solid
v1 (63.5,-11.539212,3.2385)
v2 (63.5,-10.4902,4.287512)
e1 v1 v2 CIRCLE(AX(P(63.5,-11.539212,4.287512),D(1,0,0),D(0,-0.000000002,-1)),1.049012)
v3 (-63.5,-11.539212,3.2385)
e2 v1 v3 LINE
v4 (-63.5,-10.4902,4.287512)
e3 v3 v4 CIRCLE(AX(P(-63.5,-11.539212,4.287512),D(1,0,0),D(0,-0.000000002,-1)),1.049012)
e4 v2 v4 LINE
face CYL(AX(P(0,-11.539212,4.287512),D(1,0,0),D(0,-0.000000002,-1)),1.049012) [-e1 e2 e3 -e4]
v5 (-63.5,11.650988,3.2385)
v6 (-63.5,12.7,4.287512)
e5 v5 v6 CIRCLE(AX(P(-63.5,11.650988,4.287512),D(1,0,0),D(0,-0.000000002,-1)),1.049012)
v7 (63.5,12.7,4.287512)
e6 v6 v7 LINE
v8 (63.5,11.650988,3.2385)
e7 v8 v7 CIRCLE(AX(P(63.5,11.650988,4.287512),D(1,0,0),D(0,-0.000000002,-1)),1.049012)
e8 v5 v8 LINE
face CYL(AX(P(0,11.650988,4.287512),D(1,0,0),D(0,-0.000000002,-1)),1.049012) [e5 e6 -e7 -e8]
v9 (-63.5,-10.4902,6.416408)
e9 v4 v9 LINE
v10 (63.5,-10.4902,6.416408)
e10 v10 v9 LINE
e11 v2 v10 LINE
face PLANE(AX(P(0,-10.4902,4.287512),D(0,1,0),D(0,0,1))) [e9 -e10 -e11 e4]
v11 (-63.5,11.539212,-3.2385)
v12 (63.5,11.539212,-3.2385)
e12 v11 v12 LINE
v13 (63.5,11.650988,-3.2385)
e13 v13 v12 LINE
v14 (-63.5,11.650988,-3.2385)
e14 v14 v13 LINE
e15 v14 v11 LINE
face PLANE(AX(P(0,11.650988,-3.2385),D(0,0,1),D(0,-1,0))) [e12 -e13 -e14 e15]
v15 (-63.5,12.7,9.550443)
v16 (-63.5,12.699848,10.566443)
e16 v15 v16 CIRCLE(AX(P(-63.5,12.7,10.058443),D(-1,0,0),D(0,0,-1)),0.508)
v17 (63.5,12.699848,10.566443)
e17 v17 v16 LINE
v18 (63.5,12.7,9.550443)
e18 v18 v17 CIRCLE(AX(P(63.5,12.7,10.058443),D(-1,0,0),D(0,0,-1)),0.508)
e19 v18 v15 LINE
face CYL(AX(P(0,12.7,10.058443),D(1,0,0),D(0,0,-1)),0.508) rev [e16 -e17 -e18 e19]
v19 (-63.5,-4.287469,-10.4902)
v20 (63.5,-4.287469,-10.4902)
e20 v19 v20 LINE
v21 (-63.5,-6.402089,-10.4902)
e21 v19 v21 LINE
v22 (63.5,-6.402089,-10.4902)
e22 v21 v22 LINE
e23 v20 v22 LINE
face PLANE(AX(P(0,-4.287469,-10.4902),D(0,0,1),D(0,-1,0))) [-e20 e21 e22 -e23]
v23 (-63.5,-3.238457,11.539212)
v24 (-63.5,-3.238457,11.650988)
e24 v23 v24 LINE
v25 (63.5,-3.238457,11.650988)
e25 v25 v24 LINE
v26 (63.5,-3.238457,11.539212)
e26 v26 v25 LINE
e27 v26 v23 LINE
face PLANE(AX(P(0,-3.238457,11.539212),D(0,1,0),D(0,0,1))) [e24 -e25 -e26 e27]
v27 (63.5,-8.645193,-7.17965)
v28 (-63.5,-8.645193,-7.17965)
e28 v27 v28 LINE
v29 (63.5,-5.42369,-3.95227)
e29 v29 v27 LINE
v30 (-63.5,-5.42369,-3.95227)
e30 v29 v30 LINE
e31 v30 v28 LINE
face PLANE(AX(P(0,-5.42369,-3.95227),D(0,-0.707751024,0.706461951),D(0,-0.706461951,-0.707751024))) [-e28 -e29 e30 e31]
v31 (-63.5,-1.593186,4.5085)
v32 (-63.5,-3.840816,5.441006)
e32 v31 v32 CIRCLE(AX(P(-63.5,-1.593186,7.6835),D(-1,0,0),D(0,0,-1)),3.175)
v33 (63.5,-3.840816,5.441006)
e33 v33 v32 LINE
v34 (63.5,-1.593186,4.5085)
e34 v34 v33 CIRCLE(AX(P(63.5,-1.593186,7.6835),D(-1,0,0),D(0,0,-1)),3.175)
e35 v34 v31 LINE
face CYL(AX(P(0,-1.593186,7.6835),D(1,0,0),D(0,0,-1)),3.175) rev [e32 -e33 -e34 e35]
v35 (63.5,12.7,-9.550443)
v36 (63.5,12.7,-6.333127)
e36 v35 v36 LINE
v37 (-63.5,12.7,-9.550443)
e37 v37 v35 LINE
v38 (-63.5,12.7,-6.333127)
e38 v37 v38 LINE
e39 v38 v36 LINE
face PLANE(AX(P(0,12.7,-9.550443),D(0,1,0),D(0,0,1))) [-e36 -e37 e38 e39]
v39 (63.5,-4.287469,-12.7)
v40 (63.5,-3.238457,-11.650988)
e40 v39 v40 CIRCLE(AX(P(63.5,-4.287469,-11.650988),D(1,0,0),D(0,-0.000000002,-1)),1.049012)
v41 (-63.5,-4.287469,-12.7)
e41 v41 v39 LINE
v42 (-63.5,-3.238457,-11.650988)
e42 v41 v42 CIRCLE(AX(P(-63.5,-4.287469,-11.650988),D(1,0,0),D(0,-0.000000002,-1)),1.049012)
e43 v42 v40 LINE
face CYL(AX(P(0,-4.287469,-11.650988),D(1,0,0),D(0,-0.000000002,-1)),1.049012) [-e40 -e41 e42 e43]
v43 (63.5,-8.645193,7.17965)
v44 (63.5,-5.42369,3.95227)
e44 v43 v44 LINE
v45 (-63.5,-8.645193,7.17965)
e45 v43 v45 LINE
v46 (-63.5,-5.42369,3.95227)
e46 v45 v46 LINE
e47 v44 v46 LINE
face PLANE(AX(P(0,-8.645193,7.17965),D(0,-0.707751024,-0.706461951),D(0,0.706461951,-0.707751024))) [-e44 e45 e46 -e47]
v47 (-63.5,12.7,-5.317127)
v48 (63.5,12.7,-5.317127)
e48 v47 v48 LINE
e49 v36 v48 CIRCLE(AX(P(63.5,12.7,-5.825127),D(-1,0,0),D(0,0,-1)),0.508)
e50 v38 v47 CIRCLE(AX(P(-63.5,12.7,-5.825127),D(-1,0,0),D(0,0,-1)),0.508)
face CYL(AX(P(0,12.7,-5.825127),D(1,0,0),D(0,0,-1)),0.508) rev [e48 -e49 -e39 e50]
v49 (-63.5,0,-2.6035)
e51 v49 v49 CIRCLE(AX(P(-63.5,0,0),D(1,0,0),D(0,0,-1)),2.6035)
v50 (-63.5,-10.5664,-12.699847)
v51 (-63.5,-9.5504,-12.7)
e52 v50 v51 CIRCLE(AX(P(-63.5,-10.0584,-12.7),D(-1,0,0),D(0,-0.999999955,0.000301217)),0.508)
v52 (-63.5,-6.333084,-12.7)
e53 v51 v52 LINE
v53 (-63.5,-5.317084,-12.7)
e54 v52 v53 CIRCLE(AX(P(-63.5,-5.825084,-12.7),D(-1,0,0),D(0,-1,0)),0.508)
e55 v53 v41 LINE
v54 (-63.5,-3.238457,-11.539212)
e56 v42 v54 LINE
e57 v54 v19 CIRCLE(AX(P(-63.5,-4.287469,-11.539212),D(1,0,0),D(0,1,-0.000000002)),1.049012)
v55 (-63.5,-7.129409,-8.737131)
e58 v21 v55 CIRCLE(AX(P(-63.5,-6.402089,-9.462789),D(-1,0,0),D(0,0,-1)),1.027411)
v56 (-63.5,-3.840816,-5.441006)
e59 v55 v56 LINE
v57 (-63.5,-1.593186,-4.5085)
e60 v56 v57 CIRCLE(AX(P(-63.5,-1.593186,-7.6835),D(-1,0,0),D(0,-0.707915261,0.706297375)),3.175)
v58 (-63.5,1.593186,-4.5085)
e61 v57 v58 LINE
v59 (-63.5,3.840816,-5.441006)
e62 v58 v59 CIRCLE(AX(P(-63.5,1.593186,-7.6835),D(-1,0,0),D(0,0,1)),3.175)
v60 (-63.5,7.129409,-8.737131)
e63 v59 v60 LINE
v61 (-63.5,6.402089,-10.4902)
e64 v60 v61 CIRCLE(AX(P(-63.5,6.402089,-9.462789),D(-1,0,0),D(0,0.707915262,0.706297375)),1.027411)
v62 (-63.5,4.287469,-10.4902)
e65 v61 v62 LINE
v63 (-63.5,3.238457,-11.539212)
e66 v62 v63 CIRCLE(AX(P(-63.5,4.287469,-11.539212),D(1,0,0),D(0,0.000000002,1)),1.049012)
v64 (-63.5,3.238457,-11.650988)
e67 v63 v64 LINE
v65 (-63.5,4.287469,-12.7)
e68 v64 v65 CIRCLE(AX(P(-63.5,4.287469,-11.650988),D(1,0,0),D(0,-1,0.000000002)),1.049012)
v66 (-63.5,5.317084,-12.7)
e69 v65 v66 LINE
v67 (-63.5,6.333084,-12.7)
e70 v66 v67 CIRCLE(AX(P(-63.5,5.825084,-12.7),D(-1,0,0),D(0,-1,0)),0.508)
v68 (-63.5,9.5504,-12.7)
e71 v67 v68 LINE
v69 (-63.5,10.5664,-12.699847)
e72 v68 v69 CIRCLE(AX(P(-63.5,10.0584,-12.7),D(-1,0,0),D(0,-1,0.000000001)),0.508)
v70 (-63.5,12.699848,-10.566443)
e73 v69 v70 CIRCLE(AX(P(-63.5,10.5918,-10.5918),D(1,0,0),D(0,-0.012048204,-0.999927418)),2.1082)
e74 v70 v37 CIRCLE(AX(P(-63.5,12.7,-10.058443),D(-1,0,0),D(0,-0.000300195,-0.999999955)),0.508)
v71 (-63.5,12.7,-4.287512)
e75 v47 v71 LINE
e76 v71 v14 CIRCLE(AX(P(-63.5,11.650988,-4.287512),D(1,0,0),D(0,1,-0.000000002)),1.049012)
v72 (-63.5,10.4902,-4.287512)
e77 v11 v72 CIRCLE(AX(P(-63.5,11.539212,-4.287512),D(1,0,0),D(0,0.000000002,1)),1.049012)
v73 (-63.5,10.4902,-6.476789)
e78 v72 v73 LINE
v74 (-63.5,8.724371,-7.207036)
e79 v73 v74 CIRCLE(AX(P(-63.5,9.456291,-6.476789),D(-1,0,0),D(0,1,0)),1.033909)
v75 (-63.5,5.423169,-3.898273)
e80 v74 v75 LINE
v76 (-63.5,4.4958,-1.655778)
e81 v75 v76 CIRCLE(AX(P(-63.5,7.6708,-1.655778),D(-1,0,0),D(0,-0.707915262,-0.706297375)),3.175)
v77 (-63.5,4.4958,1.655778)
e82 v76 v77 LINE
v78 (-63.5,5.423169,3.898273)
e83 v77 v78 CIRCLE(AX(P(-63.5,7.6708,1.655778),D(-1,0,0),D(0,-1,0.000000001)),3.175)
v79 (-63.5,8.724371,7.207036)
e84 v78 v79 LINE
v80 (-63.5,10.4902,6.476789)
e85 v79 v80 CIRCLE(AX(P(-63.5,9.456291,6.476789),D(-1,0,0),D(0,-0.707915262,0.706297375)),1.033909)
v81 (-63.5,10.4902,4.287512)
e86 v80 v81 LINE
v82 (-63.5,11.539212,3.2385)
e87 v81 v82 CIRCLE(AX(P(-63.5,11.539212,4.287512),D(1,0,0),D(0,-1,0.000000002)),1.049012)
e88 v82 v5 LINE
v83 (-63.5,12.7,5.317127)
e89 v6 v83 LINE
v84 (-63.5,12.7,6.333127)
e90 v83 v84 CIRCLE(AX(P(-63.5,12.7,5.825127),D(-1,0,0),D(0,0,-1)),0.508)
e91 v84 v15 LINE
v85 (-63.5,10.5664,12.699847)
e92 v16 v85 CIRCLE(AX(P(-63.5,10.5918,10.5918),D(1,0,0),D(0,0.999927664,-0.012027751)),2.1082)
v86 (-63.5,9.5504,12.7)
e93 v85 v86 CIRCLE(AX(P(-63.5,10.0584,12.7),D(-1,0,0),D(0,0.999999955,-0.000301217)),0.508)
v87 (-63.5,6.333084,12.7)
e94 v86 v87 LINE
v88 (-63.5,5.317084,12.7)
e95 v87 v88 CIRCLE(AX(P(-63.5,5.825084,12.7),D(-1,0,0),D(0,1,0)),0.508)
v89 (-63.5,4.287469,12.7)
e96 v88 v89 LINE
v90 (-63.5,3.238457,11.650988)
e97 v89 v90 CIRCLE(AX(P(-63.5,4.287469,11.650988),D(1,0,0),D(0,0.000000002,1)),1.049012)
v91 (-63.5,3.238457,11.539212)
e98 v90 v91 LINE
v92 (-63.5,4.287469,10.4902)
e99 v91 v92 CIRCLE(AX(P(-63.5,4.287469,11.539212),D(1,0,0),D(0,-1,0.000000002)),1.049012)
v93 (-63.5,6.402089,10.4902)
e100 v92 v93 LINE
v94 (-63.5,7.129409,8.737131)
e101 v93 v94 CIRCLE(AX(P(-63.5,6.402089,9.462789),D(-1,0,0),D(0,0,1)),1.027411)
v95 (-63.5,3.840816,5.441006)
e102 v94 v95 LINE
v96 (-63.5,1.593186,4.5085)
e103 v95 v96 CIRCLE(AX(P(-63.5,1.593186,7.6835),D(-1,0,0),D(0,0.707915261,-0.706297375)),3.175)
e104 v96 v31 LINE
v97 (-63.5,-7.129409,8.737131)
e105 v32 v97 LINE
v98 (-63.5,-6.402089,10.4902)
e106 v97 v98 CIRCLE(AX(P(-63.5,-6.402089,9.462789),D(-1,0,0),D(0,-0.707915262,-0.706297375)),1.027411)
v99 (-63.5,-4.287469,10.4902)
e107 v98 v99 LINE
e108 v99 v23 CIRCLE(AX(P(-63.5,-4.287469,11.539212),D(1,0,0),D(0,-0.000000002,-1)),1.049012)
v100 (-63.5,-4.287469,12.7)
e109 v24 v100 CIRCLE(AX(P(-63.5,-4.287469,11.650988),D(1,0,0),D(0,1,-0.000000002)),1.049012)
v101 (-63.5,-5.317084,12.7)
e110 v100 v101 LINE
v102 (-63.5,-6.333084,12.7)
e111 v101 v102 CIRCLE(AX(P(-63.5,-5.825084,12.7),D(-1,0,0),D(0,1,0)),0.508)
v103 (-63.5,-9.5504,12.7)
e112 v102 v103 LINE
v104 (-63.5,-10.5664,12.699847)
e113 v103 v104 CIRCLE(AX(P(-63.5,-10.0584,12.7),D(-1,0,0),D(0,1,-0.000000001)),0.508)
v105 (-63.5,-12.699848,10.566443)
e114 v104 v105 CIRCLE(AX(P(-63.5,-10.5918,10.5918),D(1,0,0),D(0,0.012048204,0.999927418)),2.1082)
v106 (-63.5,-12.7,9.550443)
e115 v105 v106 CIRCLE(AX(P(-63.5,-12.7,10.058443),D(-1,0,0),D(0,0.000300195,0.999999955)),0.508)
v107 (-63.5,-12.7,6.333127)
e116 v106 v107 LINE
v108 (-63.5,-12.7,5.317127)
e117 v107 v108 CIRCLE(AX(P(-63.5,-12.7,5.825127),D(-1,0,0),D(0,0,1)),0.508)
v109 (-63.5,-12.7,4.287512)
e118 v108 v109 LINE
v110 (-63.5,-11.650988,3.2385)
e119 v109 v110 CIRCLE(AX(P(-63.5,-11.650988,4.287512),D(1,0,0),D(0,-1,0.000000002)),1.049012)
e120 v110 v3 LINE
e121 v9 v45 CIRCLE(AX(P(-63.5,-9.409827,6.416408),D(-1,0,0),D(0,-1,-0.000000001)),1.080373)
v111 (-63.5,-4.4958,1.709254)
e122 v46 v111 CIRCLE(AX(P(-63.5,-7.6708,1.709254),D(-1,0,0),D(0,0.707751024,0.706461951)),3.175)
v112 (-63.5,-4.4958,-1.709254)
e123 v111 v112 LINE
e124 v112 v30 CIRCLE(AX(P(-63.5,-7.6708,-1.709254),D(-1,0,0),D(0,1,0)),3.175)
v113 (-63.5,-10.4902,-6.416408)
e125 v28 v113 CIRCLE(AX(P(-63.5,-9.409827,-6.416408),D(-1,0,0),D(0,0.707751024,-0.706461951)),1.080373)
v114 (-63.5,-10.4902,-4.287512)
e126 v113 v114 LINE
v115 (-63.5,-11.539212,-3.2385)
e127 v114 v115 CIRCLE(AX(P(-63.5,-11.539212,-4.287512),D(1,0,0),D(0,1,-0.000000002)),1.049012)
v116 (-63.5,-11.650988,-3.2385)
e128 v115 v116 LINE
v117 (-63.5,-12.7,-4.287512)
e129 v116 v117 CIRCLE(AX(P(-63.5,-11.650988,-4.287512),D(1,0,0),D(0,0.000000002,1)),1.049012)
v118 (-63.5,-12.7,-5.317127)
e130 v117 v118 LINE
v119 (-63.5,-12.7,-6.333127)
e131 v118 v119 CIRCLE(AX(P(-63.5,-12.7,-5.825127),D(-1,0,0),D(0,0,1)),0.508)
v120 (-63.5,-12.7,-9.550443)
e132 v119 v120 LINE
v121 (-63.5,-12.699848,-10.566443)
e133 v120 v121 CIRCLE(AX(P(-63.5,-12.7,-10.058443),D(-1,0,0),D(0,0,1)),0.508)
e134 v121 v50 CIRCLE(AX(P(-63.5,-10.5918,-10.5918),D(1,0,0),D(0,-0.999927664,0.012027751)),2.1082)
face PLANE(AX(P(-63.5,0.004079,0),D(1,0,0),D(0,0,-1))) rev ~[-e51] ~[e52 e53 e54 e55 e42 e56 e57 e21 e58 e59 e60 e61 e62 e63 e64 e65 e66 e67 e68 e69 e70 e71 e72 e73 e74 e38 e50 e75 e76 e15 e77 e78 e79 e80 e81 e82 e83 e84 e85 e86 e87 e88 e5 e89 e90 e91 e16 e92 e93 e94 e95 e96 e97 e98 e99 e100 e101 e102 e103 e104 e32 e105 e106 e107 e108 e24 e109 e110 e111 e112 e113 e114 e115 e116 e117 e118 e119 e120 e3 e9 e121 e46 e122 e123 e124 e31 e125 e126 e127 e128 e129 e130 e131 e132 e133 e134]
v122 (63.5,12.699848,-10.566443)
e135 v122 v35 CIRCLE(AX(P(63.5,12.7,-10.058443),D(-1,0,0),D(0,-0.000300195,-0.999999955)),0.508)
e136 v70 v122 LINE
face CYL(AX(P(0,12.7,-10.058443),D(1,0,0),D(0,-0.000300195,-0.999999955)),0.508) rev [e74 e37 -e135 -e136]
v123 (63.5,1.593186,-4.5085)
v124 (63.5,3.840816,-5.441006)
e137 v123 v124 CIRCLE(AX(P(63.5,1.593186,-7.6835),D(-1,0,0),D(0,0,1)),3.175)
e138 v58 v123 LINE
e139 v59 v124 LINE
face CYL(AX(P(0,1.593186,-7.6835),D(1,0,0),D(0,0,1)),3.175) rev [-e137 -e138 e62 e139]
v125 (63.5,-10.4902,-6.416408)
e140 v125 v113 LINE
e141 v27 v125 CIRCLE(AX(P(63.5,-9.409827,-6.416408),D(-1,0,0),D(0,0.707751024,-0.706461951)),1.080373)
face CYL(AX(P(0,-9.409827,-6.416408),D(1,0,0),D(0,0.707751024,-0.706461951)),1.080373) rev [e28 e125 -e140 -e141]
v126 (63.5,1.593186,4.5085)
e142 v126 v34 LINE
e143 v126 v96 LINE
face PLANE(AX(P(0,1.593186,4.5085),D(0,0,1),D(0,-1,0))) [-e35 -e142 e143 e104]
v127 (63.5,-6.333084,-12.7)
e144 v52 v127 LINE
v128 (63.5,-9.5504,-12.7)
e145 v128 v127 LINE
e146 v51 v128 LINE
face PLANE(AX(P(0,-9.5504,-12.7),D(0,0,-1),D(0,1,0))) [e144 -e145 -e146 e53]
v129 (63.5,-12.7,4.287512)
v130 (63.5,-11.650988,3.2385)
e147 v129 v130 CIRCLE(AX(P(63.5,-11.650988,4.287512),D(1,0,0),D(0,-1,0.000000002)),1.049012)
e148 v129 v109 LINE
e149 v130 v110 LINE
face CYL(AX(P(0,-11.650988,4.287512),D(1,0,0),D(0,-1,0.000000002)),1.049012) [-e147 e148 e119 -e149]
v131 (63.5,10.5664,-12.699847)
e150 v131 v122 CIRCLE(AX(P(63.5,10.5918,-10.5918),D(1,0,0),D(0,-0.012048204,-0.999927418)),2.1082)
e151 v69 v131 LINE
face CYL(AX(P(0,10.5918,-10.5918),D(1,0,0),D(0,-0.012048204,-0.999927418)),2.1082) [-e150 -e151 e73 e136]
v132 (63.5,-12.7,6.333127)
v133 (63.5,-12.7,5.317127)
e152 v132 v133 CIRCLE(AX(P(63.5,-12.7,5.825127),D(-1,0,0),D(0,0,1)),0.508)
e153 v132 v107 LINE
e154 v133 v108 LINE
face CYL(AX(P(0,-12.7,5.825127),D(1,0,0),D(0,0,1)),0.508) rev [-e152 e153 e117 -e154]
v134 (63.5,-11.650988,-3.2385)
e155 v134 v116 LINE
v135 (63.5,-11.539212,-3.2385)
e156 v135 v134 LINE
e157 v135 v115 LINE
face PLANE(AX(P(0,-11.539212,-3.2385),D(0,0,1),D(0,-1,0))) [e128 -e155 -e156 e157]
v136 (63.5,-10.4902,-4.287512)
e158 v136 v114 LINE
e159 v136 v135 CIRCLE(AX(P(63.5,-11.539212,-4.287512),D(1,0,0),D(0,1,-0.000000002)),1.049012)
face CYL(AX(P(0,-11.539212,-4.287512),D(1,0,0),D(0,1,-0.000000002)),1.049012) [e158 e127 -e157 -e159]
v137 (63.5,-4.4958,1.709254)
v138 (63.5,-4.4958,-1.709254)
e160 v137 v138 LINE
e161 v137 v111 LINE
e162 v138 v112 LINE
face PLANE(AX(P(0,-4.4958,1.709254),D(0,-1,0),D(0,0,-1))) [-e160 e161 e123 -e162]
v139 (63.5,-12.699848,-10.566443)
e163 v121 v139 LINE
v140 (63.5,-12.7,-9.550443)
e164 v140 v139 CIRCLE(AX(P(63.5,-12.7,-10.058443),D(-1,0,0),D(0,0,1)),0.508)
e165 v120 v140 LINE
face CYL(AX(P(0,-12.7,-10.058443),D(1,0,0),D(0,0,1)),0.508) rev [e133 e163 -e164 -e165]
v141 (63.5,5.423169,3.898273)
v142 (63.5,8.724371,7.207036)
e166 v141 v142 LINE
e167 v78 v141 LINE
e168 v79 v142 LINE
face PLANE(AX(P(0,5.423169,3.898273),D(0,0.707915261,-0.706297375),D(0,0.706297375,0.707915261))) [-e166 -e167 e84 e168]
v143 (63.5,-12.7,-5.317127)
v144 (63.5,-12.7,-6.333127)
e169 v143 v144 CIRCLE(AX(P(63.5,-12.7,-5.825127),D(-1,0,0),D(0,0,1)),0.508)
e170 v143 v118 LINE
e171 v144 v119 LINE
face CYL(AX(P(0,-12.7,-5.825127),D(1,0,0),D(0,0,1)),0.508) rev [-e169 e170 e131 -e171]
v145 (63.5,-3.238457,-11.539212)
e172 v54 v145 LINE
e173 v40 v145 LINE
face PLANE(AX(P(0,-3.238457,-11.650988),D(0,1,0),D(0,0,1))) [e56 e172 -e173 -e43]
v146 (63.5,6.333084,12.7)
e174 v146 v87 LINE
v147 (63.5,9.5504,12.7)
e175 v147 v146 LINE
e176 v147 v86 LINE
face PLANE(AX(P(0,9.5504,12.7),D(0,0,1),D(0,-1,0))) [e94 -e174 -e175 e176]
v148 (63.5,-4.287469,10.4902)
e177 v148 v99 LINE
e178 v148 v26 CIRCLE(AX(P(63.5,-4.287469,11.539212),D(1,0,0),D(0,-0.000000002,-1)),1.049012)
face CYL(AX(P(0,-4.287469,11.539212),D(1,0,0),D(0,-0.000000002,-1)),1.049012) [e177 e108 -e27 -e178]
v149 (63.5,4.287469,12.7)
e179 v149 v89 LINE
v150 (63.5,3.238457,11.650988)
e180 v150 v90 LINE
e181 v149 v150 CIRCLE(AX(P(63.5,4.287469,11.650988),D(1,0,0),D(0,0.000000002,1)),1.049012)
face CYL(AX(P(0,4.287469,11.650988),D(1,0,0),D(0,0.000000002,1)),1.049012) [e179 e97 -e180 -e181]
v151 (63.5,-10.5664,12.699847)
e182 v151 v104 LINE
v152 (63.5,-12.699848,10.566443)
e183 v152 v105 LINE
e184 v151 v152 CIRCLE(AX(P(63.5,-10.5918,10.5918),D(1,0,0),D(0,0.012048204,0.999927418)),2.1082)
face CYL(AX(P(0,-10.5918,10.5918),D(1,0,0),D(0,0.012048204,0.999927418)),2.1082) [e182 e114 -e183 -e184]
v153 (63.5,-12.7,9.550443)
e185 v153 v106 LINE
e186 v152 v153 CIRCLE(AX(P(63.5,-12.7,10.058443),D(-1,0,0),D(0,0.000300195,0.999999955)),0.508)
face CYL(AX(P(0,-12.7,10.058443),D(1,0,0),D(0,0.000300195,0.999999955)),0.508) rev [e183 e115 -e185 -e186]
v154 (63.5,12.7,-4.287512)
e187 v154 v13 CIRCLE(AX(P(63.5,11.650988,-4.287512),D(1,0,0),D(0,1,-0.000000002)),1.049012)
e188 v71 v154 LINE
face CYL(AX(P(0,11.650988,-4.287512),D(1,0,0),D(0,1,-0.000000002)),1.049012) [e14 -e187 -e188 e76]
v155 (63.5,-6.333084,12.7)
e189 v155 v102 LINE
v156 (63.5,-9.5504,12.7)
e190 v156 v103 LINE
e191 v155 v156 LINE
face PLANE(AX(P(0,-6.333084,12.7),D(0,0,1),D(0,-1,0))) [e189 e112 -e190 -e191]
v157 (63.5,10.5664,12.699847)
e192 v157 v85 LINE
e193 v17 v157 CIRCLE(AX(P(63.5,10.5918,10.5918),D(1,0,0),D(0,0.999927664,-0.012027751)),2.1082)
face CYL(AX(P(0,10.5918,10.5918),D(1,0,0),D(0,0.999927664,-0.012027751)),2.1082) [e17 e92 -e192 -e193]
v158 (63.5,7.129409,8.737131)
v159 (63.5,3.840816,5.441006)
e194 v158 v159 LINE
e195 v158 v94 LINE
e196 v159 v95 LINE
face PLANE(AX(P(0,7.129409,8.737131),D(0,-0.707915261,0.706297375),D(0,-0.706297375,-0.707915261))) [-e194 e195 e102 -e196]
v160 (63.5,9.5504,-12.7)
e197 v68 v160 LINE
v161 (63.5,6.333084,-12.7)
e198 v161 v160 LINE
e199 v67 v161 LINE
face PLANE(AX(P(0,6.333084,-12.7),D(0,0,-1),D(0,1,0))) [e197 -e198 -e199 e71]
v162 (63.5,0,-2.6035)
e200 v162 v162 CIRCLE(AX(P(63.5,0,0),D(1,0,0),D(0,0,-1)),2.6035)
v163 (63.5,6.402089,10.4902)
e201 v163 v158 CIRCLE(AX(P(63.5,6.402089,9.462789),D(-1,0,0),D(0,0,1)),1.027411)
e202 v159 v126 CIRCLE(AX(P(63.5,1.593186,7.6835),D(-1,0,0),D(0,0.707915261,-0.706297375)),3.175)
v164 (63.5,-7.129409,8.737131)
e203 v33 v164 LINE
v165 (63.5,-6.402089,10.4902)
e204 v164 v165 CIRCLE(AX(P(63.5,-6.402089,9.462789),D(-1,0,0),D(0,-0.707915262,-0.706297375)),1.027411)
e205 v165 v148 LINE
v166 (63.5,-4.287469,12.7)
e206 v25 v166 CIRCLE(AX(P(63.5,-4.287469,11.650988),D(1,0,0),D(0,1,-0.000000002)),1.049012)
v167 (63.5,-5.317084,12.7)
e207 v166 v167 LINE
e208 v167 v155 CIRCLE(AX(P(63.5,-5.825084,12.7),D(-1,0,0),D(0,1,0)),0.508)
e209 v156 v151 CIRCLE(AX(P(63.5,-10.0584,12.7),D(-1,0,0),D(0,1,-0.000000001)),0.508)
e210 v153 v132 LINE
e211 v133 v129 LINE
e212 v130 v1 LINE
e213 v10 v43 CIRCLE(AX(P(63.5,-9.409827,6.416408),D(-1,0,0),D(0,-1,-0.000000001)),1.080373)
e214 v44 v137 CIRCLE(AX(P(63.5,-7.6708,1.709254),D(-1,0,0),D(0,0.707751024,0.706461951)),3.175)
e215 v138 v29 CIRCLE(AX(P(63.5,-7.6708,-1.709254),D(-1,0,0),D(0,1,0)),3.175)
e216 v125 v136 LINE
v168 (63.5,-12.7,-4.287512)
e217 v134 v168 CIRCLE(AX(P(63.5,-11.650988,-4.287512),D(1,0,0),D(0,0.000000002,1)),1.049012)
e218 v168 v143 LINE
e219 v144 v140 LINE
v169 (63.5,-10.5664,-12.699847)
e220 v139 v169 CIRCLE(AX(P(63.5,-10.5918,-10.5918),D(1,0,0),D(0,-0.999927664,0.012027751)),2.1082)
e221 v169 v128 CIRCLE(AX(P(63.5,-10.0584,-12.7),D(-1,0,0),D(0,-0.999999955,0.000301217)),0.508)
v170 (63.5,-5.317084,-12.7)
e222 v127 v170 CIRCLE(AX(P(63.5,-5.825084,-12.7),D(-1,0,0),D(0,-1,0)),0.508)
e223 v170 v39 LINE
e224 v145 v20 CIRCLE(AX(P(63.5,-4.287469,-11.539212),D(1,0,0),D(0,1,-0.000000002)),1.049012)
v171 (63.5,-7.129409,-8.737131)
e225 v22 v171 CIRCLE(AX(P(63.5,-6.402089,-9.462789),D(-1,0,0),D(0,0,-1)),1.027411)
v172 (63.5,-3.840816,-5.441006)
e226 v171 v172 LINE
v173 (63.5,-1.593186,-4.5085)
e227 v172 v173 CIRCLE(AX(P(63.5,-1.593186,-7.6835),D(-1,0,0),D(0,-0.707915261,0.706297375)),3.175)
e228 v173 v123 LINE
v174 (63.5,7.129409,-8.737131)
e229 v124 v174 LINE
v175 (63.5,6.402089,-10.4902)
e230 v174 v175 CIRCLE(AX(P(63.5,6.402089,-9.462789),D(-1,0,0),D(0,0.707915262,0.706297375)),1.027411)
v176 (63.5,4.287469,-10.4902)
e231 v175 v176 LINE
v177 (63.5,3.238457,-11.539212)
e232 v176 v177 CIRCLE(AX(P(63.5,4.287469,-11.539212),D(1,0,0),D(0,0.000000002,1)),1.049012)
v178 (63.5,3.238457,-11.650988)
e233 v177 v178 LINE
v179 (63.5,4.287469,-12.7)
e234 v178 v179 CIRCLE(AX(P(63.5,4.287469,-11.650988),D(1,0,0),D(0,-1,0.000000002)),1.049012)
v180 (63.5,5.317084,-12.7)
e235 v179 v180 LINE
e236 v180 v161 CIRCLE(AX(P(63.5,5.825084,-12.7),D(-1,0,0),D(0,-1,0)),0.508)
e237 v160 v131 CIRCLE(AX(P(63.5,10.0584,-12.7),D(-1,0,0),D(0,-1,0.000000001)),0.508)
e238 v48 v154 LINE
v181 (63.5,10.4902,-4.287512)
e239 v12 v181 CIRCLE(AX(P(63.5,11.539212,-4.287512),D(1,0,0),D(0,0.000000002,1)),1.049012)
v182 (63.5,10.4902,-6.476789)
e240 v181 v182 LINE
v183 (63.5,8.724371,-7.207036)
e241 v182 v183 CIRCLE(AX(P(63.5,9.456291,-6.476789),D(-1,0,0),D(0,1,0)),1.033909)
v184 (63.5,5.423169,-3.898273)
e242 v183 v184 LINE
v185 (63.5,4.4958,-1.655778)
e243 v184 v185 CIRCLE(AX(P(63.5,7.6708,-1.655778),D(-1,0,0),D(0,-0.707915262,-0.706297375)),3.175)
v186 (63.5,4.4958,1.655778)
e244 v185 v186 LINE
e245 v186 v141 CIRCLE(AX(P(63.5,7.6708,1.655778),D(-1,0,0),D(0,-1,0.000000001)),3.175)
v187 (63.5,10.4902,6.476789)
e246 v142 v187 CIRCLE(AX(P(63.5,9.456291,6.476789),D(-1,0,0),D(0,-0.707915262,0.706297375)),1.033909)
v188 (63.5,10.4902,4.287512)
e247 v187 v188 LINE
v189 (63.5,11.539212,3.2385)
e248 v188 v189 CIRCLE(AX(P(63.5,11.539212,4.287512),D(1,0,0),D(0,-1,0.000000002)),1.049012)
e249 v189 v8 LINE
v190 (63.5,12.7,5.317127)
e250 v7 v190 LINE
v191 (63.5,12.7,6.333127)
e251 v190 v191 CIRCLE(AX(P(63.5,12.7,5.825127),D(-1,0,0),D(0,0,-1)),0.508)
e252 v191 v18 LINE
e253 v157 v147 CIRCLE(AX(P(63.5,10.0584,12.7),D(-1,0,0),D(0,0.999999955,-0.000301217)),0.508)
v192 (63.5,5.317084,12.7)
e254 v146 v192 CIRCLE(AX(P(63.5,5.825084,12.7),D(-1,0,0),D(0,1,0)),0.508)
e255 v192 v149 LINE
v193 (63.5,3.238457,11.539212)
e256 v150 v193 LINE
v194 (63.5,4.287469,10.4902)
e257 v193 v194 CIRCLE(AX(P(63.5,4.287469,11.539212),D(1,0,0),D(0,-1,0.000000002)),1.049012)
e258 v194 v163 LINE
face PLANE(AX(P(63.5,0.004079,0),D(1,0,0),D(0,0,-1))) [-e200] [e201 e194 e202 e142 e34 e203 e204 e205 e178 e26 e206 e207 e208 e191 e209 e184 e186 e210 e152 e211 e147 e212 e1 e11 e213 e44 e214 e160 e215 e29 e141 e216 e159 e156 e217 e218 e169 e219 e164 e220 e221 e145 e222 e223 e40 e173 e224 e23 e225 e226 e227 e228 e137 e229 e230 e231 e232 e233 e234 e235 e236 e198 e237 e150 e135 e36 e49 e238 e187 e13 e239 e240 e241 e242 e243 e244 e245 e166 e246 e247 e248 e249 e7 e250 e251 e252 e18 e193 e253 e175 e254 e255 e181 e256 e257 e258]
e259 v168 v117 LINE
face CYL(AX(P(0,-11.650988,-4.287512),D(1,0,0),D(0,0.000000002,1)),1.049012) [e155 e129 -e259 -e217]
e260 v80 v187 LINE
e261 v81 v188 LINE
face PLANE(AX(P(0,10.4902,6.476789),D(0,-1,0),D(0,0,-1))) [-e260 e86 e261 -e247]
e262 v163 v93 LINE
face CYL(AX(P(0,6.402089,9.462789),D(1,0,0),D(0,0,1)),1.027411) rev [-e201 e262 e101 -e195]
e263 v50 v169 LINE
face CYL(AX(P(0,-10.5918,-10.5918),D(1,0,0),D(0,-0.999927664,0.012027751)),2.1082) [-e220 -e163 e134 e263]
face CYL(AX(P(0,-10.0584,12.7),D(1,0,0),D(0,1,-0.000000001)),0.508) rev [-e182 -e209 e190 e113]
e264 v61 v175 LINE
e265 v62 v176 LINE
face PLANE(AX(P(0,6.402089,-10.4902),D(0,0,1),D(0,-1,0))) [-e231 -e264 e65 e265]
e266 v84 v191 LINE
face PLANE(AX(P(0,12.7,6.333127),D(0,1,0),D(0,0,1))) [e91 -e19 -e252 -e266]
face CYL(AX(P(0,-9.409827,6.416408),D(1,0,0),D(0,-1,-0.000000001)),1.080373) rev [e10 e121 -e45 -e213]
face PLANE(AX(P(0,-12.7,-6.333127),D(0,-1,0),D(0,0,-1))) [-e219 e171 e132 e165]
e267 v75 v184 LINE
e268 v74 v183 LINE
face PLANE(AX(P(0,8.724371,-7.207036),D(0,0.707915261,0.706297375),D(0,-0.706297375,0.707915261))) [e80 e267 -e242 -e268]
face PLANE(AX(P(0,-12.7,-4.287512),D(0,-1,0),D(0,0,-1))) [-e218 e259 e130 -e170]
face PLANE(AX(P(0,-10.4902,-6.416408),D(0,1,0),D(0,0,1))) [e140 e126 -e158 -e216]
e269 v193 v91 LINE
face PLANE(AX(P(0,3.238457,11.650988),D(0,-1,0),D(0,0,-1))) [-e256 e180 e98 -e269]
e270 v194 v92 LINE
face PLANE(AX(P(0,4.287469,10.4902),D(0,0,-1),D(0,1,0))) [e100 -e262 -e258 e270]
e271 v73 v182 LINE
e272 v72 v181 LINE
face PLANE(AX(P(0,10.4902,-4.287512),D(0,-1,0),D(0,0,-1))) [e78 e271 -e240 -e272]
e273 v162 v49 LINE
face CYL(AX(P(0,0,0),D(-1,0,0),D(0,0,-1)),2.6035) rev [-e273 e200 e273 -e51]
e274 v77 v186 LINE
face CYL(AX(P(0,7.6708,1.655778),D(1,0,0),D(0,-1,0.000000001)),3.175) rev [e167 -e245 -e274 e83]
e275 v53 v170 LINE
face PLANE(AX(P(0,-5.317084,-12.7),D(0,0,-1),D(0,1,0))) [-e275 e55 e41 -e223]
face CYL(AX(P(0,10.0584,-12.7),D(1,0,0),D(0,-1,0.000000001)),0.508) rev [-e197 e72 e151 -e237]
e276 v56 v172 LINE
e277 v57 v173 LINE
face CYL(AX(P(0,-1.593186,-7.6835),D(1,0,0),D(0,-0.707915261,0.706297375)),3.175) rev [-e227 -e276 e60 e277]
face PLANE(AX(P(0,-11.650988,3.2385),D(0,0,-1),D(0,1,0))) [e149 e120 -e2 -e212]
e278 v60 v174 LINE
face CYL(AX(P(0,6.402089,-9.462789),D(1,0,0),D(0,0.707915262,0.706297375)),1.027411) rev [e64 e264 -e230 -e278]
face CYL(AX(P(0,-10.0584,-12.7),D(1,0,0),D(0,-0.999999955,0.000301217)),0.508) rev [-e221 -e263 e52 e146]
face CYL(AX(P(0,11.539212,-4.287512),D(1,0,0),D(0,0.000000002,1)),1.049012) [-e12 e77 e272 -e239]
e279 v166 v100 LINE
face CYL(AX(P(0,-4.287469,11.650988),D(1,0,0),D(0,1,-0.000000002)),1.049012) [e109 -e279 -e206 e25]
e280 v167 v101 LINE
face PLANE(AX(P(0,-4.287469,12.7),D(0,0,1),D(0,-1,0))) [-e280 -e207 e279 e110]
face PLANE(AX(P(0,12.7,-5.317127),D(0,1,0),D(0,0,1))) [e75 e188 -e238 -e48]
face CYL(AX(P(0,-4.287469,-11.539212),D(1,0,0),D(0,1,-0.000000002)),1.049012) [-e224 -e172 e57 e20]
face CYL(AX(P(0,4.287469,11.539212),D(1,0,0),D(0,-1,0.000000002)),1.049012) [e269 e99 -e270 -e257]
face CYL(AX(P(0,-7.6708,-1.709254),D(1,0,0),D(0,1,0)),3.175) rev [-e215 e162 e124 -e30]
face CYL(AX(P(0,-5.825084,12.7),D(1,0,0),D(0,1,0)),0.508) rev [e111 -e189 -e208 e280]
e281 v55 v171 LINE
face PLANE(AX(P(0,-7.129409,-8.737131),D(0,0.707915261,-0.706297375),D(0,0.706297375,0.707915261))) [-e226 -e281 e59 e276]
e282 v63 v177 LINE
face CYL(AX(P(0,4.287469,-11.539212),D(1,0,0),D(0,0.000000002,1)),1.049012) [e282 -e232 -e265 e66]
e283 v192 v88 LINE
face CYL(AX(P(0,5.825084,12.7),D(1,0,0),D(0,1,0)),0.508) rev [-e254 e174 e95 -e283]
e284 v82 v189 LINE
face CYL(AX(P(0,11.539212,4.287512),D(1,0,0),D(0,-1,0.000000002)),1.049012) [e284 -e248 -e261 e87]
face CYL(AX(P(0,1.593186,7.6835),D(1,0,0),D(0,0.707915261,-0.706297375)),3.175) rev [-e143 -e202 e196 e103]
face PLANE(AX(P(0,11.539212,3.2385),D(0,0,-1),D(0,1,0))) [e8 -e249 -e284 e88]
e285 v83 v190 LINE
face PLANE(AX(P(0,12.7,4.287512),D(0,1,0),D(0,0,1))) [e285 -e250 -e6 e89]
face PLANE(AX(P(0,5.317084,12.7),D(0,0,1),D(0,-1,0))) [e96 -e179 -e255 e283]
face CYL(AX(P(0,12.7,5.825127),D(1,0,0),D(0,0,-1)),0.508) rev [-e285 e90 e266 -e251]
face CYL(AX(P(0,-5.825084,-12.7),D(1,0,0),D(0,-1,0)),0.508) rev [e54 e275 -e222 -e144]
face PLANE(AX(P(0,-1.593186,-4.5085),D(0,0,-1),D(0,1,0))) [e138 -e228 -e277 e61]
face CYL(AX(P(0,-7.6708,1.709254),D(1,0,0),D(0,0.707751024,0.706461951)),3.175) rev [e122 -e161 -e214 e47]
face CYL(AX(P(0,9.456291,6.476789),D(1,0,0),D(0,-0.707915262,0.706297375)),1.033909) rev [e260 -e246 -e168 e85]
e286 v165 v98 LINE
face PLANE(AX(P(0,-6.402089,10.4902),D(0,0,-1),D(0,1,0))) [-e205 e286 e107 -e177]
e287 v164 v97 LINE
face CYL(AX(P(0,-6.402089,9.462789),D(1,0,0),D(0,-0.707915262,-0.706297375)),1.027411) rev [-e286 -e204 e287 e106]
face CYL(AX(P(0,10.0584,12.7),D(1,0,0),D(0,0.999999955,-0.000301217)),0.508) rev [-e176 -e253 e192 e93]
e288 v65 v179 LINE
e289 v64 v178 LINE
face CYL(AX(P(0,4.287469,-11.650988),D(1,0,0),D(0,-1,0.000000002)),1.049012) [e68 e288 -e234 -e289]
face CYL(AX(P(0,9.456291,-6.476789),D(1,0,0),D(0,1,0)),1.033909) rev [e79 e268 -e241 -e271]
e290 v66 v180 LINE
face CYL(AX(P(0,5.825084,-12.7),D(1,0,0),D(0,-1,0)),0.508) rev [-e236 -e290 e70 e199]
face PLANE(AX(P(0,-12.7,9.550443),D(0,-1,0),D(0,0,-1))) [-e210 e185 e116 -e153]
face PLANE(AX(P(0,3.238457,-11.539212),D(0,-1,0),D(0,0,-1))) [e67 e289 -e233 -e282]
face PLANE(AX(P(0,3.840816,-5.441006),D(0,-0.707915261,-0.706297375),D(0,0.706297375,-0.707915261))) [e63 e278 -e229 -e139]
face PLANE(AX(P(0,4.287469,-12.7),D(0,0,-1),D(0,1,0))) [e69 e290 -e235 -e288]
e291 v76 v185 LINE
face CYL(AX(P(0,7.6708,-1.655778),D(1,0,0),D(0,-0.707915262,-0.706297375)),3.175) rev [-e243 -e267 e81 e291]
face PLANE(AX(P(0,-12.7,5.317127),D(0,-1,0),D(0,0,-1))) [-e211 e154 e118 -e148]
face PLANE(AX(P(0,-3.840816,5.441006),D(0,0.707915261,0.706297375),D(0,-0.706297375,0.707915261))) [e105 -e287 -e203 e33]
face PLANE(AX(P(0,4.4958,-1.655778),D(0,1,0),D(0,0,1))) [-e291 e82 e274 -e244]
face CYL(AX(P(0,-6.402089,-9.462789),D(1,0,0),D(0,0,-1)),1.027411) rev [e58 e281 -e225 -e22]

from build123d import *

# Parameters (mm, degrees)
SKETCH1_R           = 2.6035
BOSS_EXTRUDE1_DEPTH = 63.5


with BuildPart() as part:
    # Sketch1 → Boss-Extrude1 (new body, symmetric)
    with BuildSketch(Plane(origin=(0, 0, 0), x_dir=(0, 0, -1), z_dir=(1, 0, 0))):
        with BuildLine():
            Line((6.333126718, -12.7), (9.550443118, -12.7))
            ThreePointArc((9.550443118, -12.7), (10.058366869, -12.192000006), (10.566443095, -12.699847501))
            ThreePointArc((10.566443095, -12.699847501), (12.082537762, -12.08250727), (12.699846982, -10.566399977))
            ThreePointArc((12.699846982, -10.566399977), (12.192000006, -10.058323491), (12.7, -9.5504))
            Line((12.7, -9.5504), (12.7, -6.3330836))
            ThreePointArc((12.7, -6.3330836), (12.192, -5.8250836), (12.7, -5.3170836))
            Line((12.7, -5.3170836), (12.7, -4.287469289))
            ThreePointArc((12.7, -4.287469289), (12.39275138, -3.545705502), (11.650987593, -3.238456882))
            Line((11.650987593, -3.238456882), (11.539212407, -3.238456882))
            ThreePointArc((11.539212407, -3.238456882), (10.79744862, -3.545705502), (10.4902, -4.287469289))
            Line((10.4902, -4.287469289), (10.4902, -6.402089023))
            ThreePointArc((10.4902, -6.402089023), (9.856505071, -7.351067942), (8.737131347, -7.129408934))
            Line((8.737131347, -7.129408934), (5.441005833, -3.840816462))
            ThreePointArc((5.441005833, -3.840816462), (4.750877967, -2.809883091), (4.5085, -1.593185507))
            Line((4.5085, -1.593185507), (4.5085, 1.593185507))
            ThreePointArc((4.5085, 1.593185507), (4.750877967, 2.809883091), (5.441005833, 3.840816462))
            Line((5.441005833, 3.840816462), (8.737131347, 7.129408934))
            ThreePointArc((8.737131347, 7.129408934), (9.856505071, 7.351067942), (10.4902, 6.402089023))
            Line((10.4902, 6.402089023), (10.4902, 4.287469289))
            ThreePointArc((10.4902, 4.287469289), (10.79744862, 3.545705502), (11.539212407, 3.238456882))
            Line((11.539212407, 3.238456882), (11.650987593, 3.238456882))
            ThreePointArc((11.650987593, 3.238456882), (12.39275138, 3.545705502), (12.7, 4.287469289))
            Line((12.7, 4.287469289), (12.7, 5.3170836))
            ThreePointArc((12.7, 5.3170836), (12.192, 5.8250836), (12.7, 6.3330836))
            Line((12.7, 6.3330836), (12.7, 9.5504))
            ThreePointArc((12.7, 9.5504), (12.192000006, 10.058323491), (12.699846982, 10.566399977))
            ThreePointArc((12.699846982, 10.566399977), (12.082537762, 12.08250727), (10.566443095, 12.699847501))
            ThreePointArc((10.566443095, 12.699847501), (10.058366869, 12.192000006), (9.550443118, 12.7))
            Line((9.550443118, 12.7), (6.333126718, 12.7))
            ThreePointArc((6.333126718, 12.7), (5.825126718, 12.192), (5.317126718, 12.7))
            Line((5.317126718, 12.7), (4.287512407, 12.7))
            ThreePointArc((4.287512407, 12.7), (3.54574862, 12.39275138), (3.2385, 11.650987593))
            Line((3.2385, 11.650987593), (3.2385, 11.539212407))
            ThreePointArc((3.2385, 11.539212407), (3.54574862, 10.79744862), (4.287512407, 10.4902))
            Line((4.287512407, 10.4902), (6.476788598, 10.4902))
            ThreePointArc((6.476788598, 10.4902), (7.432222385, 9.85140422), (7.207036008, 8.724370562))
            Line((7.207036008, 8.724370562), (3.898272566, 5.423169045))
            ThreePointArc((3.898272566, 5.423169045), (2.869120213, 4.736787962), (1.655778399, 4.4958))
            Line((1.655778399, 4.4958), (-1.655778399, 4.4958))
            ThreePointArc((-1.655778399, 4.4958), (-2.869120213, 4.736787962), (-3.898272566, 5.423169045))
            Line((-3.898272566, 5.423169045), (-7.207036008, 8.724370562))
            ThreePointArc((-7.207036008, 8.724370562), (-7.432222385, 9.85140422), (-6.476788598, 10.4902))
            Line((-6.476788598, 10.4902), (-4.287512407, 10.4902))
            ThreePointArc((-4.287512407, 10.4902), (-3.54574862, 10.79744862), (-3.2385, 11.539212407))
            Line((-3.2385, 11.539212407), (-3.2385, 11.650987593))
            ThreePointArc((-3.2385, 11.650987593), (-3.54574862, 12.39275138), (-4.287512407, 12.7))
            Line((-4.287512407, 12.7), (-5.317126718, 12.7))
            ThreePointArc((-5.317126718, 12.7), (-5.825126718, 12.192), (-6.333126718, 12.7))
            Line((-6.333126718, 12.7), (-9.550443118, 12.7))
            ThreePointArc((-9.550443118, 12.7), (-10.058366869, 12.192000006), (-10.566443095, 12.699847501))
            ThreePointArc((-10.566443095, 12.699847501), (-12.082537762, 12.08250727), (-12.699846982, 10.566399977))
            ThreePointArc((-12.699846982, 10.566399977), (-12.192000006, 10.058323491), (-12.7, 9.5504))
            Line((-12.7, 9.5504), (-12.7, 6.3330836))
            ThreePointArc((-12.7, 6.3330836), (-12.192, 5.8250836), (-12.7, 5.3170836))
            Line((-12.7, 5.3170836), (-12.7, 4.287469289))
            ThreePointArc((-12.7, 4.287469289), (-12.39275138, 3.545705502), (-11.650987593, 3.238456882))
            Line((-11.650987593, 3.238456882), (-11.539212407, 3.238456882))
            ThreePointArc((-11.539212407, 3.238456882), (-10.79744862, 3.545705502), (-10.4902, 4.287469289))
            Line((-10.4902, 4.287469289), (-10.4902, 6.402089023))
            ThreePointArc((-10.4902, 6.402089023), (-9.856505071, 7.351067942), (-8.737131347, 7.129408934))
            Line((-8.737131347, 7.129408934), (-5.441005833, 3.840816462))
            ThreePointArc((-5.441005833, 3.840816462), (-4.750877967, 2.809883091), (-4.5085, 1.593185507))
            Line((-4.5085, 1.593185507), (-4.5085, -1.593185507))
            ThreePointArc((-4.5085, -1.593185507), (-4.750877967, -2.809883091), (-5.441005833, -3.840816462))
            Line((-5.441005833, -3.840816462), (-8.737131347, -7.129408934))
            ThreePointArc((-8.737131347, -7.129408934), (-9.856505071, -7.351067942), (-10.4902, -6.402089023))
            Line((-10.4902, -6.402089023), (-10.4902, -4.287469289))
            ThreePointArc((-10.4902, -4.287469289), (-10.79744862, -3.545705502), (-11.539212407, -3.238456882))
            Line((-11.539212407, -3.238456882), (-11.650987593, -3.238456882))
            ThreePointArc((-11.650987593, -3.238456882), (-12.39275138, -3.545705502), (-12.7, -4.287469289))
            Line((-12.7, -4.287469289), (-12.7, -5.3170836))
            ThreePointArc((-12.7, -5.3170836), (-12.192, -5.8250836), (-12.7, -6.3330836))
            Line((-12.7, -6.3330836), (-12.7, -9.5504))
            ThreePointArc((-12.7, -9.5504), (-12.192000006, -10.058323491), (-12.699846982, -10.566399977))
            ThreePointArc((-12.699846982, -10.566399977), (-12.082537762, -12.08250727), (-10.566443095, -12.699847501))
            ThreePointArc((-10.566443095, -12.699847501), (-10.058366869, -12.192000006), (-9.550443118, -12.7))
            Line((-9.550443118, -12.7), (-6.333126718, -12.7))
            ThreePointArc((-6.333126718, -12.7), (-5.825126718, -12.192), (-5.317126718, -12.7))
            Line((-5.317126718, -12.7), (-4.287512407, -12.7))
            ThreePointArc((-4.287512407, -12.7), (-3.54574862, -12.39275138), (-3.2385, -11.650987593))
            Line((-3.2385, -11.650987593), (-3.2385, -11.539212407))
            ThreePointArc((-3.2385, -11.539212407), (-3.54574862, -10.79744862), (-4.287512407, -10.4902))
            Line((-4.287512407, -10.4902), (-6.416408329, -10.4902))
            ThreePointArc((-6.416408329, -10.4902), (-7.41473083, -9.822813117), (-7.179650497, -8.645192506))
            Line((-7.179650497, -8.645192506), (-3.952270251, -5.423690499))
            ThreePointArc((-3.952270251, -5.423690499), (-2.922936451, -4.736929036), (-1.709253557, -4.4958))
            Line((-1.709253557, -4.4958), (1.709253557, -4.4958))
            ThreePointArc((1.709253557, -4.4958), (2.922936451, -4.736929036), (3.952270251, -5.423690499))
            Line((3.952270251, -5.423690499), (7.179650497, -8.645192506))
            ThreePointArc((7.179650497, -8.645192506), (7.41473083, -9.822813117), (6.416408329, -10.4902))
            Line((6.416408329, -10.4902), (4.287512407, -10.4902))
            ThreePointArc((4.287512407, -10.4902), (3.54574862, -10.79744862), (3.2385, -11.539212407))
            Line((3.2385, -11.539212407), (3.2385, -11.650987593))
            ThreePointArc((3.2385, -11.650987593), (3.54574862, -12.39275138), (4.287512407, -12.7))
            Line((4.287512407, -12.7), (5.317126718, -12.7))
            ThreePointArc((5.317126718, -12.7), (5.825126718, -12.192), (6.333126718, -12.7))
        make_face()
        Circle(SKETCH1_R, mode=Mode.SUBTRACT)
    extrude(amount=BOSS_EXTRUDE1_DEPTH, both=True)


solid = part.part
